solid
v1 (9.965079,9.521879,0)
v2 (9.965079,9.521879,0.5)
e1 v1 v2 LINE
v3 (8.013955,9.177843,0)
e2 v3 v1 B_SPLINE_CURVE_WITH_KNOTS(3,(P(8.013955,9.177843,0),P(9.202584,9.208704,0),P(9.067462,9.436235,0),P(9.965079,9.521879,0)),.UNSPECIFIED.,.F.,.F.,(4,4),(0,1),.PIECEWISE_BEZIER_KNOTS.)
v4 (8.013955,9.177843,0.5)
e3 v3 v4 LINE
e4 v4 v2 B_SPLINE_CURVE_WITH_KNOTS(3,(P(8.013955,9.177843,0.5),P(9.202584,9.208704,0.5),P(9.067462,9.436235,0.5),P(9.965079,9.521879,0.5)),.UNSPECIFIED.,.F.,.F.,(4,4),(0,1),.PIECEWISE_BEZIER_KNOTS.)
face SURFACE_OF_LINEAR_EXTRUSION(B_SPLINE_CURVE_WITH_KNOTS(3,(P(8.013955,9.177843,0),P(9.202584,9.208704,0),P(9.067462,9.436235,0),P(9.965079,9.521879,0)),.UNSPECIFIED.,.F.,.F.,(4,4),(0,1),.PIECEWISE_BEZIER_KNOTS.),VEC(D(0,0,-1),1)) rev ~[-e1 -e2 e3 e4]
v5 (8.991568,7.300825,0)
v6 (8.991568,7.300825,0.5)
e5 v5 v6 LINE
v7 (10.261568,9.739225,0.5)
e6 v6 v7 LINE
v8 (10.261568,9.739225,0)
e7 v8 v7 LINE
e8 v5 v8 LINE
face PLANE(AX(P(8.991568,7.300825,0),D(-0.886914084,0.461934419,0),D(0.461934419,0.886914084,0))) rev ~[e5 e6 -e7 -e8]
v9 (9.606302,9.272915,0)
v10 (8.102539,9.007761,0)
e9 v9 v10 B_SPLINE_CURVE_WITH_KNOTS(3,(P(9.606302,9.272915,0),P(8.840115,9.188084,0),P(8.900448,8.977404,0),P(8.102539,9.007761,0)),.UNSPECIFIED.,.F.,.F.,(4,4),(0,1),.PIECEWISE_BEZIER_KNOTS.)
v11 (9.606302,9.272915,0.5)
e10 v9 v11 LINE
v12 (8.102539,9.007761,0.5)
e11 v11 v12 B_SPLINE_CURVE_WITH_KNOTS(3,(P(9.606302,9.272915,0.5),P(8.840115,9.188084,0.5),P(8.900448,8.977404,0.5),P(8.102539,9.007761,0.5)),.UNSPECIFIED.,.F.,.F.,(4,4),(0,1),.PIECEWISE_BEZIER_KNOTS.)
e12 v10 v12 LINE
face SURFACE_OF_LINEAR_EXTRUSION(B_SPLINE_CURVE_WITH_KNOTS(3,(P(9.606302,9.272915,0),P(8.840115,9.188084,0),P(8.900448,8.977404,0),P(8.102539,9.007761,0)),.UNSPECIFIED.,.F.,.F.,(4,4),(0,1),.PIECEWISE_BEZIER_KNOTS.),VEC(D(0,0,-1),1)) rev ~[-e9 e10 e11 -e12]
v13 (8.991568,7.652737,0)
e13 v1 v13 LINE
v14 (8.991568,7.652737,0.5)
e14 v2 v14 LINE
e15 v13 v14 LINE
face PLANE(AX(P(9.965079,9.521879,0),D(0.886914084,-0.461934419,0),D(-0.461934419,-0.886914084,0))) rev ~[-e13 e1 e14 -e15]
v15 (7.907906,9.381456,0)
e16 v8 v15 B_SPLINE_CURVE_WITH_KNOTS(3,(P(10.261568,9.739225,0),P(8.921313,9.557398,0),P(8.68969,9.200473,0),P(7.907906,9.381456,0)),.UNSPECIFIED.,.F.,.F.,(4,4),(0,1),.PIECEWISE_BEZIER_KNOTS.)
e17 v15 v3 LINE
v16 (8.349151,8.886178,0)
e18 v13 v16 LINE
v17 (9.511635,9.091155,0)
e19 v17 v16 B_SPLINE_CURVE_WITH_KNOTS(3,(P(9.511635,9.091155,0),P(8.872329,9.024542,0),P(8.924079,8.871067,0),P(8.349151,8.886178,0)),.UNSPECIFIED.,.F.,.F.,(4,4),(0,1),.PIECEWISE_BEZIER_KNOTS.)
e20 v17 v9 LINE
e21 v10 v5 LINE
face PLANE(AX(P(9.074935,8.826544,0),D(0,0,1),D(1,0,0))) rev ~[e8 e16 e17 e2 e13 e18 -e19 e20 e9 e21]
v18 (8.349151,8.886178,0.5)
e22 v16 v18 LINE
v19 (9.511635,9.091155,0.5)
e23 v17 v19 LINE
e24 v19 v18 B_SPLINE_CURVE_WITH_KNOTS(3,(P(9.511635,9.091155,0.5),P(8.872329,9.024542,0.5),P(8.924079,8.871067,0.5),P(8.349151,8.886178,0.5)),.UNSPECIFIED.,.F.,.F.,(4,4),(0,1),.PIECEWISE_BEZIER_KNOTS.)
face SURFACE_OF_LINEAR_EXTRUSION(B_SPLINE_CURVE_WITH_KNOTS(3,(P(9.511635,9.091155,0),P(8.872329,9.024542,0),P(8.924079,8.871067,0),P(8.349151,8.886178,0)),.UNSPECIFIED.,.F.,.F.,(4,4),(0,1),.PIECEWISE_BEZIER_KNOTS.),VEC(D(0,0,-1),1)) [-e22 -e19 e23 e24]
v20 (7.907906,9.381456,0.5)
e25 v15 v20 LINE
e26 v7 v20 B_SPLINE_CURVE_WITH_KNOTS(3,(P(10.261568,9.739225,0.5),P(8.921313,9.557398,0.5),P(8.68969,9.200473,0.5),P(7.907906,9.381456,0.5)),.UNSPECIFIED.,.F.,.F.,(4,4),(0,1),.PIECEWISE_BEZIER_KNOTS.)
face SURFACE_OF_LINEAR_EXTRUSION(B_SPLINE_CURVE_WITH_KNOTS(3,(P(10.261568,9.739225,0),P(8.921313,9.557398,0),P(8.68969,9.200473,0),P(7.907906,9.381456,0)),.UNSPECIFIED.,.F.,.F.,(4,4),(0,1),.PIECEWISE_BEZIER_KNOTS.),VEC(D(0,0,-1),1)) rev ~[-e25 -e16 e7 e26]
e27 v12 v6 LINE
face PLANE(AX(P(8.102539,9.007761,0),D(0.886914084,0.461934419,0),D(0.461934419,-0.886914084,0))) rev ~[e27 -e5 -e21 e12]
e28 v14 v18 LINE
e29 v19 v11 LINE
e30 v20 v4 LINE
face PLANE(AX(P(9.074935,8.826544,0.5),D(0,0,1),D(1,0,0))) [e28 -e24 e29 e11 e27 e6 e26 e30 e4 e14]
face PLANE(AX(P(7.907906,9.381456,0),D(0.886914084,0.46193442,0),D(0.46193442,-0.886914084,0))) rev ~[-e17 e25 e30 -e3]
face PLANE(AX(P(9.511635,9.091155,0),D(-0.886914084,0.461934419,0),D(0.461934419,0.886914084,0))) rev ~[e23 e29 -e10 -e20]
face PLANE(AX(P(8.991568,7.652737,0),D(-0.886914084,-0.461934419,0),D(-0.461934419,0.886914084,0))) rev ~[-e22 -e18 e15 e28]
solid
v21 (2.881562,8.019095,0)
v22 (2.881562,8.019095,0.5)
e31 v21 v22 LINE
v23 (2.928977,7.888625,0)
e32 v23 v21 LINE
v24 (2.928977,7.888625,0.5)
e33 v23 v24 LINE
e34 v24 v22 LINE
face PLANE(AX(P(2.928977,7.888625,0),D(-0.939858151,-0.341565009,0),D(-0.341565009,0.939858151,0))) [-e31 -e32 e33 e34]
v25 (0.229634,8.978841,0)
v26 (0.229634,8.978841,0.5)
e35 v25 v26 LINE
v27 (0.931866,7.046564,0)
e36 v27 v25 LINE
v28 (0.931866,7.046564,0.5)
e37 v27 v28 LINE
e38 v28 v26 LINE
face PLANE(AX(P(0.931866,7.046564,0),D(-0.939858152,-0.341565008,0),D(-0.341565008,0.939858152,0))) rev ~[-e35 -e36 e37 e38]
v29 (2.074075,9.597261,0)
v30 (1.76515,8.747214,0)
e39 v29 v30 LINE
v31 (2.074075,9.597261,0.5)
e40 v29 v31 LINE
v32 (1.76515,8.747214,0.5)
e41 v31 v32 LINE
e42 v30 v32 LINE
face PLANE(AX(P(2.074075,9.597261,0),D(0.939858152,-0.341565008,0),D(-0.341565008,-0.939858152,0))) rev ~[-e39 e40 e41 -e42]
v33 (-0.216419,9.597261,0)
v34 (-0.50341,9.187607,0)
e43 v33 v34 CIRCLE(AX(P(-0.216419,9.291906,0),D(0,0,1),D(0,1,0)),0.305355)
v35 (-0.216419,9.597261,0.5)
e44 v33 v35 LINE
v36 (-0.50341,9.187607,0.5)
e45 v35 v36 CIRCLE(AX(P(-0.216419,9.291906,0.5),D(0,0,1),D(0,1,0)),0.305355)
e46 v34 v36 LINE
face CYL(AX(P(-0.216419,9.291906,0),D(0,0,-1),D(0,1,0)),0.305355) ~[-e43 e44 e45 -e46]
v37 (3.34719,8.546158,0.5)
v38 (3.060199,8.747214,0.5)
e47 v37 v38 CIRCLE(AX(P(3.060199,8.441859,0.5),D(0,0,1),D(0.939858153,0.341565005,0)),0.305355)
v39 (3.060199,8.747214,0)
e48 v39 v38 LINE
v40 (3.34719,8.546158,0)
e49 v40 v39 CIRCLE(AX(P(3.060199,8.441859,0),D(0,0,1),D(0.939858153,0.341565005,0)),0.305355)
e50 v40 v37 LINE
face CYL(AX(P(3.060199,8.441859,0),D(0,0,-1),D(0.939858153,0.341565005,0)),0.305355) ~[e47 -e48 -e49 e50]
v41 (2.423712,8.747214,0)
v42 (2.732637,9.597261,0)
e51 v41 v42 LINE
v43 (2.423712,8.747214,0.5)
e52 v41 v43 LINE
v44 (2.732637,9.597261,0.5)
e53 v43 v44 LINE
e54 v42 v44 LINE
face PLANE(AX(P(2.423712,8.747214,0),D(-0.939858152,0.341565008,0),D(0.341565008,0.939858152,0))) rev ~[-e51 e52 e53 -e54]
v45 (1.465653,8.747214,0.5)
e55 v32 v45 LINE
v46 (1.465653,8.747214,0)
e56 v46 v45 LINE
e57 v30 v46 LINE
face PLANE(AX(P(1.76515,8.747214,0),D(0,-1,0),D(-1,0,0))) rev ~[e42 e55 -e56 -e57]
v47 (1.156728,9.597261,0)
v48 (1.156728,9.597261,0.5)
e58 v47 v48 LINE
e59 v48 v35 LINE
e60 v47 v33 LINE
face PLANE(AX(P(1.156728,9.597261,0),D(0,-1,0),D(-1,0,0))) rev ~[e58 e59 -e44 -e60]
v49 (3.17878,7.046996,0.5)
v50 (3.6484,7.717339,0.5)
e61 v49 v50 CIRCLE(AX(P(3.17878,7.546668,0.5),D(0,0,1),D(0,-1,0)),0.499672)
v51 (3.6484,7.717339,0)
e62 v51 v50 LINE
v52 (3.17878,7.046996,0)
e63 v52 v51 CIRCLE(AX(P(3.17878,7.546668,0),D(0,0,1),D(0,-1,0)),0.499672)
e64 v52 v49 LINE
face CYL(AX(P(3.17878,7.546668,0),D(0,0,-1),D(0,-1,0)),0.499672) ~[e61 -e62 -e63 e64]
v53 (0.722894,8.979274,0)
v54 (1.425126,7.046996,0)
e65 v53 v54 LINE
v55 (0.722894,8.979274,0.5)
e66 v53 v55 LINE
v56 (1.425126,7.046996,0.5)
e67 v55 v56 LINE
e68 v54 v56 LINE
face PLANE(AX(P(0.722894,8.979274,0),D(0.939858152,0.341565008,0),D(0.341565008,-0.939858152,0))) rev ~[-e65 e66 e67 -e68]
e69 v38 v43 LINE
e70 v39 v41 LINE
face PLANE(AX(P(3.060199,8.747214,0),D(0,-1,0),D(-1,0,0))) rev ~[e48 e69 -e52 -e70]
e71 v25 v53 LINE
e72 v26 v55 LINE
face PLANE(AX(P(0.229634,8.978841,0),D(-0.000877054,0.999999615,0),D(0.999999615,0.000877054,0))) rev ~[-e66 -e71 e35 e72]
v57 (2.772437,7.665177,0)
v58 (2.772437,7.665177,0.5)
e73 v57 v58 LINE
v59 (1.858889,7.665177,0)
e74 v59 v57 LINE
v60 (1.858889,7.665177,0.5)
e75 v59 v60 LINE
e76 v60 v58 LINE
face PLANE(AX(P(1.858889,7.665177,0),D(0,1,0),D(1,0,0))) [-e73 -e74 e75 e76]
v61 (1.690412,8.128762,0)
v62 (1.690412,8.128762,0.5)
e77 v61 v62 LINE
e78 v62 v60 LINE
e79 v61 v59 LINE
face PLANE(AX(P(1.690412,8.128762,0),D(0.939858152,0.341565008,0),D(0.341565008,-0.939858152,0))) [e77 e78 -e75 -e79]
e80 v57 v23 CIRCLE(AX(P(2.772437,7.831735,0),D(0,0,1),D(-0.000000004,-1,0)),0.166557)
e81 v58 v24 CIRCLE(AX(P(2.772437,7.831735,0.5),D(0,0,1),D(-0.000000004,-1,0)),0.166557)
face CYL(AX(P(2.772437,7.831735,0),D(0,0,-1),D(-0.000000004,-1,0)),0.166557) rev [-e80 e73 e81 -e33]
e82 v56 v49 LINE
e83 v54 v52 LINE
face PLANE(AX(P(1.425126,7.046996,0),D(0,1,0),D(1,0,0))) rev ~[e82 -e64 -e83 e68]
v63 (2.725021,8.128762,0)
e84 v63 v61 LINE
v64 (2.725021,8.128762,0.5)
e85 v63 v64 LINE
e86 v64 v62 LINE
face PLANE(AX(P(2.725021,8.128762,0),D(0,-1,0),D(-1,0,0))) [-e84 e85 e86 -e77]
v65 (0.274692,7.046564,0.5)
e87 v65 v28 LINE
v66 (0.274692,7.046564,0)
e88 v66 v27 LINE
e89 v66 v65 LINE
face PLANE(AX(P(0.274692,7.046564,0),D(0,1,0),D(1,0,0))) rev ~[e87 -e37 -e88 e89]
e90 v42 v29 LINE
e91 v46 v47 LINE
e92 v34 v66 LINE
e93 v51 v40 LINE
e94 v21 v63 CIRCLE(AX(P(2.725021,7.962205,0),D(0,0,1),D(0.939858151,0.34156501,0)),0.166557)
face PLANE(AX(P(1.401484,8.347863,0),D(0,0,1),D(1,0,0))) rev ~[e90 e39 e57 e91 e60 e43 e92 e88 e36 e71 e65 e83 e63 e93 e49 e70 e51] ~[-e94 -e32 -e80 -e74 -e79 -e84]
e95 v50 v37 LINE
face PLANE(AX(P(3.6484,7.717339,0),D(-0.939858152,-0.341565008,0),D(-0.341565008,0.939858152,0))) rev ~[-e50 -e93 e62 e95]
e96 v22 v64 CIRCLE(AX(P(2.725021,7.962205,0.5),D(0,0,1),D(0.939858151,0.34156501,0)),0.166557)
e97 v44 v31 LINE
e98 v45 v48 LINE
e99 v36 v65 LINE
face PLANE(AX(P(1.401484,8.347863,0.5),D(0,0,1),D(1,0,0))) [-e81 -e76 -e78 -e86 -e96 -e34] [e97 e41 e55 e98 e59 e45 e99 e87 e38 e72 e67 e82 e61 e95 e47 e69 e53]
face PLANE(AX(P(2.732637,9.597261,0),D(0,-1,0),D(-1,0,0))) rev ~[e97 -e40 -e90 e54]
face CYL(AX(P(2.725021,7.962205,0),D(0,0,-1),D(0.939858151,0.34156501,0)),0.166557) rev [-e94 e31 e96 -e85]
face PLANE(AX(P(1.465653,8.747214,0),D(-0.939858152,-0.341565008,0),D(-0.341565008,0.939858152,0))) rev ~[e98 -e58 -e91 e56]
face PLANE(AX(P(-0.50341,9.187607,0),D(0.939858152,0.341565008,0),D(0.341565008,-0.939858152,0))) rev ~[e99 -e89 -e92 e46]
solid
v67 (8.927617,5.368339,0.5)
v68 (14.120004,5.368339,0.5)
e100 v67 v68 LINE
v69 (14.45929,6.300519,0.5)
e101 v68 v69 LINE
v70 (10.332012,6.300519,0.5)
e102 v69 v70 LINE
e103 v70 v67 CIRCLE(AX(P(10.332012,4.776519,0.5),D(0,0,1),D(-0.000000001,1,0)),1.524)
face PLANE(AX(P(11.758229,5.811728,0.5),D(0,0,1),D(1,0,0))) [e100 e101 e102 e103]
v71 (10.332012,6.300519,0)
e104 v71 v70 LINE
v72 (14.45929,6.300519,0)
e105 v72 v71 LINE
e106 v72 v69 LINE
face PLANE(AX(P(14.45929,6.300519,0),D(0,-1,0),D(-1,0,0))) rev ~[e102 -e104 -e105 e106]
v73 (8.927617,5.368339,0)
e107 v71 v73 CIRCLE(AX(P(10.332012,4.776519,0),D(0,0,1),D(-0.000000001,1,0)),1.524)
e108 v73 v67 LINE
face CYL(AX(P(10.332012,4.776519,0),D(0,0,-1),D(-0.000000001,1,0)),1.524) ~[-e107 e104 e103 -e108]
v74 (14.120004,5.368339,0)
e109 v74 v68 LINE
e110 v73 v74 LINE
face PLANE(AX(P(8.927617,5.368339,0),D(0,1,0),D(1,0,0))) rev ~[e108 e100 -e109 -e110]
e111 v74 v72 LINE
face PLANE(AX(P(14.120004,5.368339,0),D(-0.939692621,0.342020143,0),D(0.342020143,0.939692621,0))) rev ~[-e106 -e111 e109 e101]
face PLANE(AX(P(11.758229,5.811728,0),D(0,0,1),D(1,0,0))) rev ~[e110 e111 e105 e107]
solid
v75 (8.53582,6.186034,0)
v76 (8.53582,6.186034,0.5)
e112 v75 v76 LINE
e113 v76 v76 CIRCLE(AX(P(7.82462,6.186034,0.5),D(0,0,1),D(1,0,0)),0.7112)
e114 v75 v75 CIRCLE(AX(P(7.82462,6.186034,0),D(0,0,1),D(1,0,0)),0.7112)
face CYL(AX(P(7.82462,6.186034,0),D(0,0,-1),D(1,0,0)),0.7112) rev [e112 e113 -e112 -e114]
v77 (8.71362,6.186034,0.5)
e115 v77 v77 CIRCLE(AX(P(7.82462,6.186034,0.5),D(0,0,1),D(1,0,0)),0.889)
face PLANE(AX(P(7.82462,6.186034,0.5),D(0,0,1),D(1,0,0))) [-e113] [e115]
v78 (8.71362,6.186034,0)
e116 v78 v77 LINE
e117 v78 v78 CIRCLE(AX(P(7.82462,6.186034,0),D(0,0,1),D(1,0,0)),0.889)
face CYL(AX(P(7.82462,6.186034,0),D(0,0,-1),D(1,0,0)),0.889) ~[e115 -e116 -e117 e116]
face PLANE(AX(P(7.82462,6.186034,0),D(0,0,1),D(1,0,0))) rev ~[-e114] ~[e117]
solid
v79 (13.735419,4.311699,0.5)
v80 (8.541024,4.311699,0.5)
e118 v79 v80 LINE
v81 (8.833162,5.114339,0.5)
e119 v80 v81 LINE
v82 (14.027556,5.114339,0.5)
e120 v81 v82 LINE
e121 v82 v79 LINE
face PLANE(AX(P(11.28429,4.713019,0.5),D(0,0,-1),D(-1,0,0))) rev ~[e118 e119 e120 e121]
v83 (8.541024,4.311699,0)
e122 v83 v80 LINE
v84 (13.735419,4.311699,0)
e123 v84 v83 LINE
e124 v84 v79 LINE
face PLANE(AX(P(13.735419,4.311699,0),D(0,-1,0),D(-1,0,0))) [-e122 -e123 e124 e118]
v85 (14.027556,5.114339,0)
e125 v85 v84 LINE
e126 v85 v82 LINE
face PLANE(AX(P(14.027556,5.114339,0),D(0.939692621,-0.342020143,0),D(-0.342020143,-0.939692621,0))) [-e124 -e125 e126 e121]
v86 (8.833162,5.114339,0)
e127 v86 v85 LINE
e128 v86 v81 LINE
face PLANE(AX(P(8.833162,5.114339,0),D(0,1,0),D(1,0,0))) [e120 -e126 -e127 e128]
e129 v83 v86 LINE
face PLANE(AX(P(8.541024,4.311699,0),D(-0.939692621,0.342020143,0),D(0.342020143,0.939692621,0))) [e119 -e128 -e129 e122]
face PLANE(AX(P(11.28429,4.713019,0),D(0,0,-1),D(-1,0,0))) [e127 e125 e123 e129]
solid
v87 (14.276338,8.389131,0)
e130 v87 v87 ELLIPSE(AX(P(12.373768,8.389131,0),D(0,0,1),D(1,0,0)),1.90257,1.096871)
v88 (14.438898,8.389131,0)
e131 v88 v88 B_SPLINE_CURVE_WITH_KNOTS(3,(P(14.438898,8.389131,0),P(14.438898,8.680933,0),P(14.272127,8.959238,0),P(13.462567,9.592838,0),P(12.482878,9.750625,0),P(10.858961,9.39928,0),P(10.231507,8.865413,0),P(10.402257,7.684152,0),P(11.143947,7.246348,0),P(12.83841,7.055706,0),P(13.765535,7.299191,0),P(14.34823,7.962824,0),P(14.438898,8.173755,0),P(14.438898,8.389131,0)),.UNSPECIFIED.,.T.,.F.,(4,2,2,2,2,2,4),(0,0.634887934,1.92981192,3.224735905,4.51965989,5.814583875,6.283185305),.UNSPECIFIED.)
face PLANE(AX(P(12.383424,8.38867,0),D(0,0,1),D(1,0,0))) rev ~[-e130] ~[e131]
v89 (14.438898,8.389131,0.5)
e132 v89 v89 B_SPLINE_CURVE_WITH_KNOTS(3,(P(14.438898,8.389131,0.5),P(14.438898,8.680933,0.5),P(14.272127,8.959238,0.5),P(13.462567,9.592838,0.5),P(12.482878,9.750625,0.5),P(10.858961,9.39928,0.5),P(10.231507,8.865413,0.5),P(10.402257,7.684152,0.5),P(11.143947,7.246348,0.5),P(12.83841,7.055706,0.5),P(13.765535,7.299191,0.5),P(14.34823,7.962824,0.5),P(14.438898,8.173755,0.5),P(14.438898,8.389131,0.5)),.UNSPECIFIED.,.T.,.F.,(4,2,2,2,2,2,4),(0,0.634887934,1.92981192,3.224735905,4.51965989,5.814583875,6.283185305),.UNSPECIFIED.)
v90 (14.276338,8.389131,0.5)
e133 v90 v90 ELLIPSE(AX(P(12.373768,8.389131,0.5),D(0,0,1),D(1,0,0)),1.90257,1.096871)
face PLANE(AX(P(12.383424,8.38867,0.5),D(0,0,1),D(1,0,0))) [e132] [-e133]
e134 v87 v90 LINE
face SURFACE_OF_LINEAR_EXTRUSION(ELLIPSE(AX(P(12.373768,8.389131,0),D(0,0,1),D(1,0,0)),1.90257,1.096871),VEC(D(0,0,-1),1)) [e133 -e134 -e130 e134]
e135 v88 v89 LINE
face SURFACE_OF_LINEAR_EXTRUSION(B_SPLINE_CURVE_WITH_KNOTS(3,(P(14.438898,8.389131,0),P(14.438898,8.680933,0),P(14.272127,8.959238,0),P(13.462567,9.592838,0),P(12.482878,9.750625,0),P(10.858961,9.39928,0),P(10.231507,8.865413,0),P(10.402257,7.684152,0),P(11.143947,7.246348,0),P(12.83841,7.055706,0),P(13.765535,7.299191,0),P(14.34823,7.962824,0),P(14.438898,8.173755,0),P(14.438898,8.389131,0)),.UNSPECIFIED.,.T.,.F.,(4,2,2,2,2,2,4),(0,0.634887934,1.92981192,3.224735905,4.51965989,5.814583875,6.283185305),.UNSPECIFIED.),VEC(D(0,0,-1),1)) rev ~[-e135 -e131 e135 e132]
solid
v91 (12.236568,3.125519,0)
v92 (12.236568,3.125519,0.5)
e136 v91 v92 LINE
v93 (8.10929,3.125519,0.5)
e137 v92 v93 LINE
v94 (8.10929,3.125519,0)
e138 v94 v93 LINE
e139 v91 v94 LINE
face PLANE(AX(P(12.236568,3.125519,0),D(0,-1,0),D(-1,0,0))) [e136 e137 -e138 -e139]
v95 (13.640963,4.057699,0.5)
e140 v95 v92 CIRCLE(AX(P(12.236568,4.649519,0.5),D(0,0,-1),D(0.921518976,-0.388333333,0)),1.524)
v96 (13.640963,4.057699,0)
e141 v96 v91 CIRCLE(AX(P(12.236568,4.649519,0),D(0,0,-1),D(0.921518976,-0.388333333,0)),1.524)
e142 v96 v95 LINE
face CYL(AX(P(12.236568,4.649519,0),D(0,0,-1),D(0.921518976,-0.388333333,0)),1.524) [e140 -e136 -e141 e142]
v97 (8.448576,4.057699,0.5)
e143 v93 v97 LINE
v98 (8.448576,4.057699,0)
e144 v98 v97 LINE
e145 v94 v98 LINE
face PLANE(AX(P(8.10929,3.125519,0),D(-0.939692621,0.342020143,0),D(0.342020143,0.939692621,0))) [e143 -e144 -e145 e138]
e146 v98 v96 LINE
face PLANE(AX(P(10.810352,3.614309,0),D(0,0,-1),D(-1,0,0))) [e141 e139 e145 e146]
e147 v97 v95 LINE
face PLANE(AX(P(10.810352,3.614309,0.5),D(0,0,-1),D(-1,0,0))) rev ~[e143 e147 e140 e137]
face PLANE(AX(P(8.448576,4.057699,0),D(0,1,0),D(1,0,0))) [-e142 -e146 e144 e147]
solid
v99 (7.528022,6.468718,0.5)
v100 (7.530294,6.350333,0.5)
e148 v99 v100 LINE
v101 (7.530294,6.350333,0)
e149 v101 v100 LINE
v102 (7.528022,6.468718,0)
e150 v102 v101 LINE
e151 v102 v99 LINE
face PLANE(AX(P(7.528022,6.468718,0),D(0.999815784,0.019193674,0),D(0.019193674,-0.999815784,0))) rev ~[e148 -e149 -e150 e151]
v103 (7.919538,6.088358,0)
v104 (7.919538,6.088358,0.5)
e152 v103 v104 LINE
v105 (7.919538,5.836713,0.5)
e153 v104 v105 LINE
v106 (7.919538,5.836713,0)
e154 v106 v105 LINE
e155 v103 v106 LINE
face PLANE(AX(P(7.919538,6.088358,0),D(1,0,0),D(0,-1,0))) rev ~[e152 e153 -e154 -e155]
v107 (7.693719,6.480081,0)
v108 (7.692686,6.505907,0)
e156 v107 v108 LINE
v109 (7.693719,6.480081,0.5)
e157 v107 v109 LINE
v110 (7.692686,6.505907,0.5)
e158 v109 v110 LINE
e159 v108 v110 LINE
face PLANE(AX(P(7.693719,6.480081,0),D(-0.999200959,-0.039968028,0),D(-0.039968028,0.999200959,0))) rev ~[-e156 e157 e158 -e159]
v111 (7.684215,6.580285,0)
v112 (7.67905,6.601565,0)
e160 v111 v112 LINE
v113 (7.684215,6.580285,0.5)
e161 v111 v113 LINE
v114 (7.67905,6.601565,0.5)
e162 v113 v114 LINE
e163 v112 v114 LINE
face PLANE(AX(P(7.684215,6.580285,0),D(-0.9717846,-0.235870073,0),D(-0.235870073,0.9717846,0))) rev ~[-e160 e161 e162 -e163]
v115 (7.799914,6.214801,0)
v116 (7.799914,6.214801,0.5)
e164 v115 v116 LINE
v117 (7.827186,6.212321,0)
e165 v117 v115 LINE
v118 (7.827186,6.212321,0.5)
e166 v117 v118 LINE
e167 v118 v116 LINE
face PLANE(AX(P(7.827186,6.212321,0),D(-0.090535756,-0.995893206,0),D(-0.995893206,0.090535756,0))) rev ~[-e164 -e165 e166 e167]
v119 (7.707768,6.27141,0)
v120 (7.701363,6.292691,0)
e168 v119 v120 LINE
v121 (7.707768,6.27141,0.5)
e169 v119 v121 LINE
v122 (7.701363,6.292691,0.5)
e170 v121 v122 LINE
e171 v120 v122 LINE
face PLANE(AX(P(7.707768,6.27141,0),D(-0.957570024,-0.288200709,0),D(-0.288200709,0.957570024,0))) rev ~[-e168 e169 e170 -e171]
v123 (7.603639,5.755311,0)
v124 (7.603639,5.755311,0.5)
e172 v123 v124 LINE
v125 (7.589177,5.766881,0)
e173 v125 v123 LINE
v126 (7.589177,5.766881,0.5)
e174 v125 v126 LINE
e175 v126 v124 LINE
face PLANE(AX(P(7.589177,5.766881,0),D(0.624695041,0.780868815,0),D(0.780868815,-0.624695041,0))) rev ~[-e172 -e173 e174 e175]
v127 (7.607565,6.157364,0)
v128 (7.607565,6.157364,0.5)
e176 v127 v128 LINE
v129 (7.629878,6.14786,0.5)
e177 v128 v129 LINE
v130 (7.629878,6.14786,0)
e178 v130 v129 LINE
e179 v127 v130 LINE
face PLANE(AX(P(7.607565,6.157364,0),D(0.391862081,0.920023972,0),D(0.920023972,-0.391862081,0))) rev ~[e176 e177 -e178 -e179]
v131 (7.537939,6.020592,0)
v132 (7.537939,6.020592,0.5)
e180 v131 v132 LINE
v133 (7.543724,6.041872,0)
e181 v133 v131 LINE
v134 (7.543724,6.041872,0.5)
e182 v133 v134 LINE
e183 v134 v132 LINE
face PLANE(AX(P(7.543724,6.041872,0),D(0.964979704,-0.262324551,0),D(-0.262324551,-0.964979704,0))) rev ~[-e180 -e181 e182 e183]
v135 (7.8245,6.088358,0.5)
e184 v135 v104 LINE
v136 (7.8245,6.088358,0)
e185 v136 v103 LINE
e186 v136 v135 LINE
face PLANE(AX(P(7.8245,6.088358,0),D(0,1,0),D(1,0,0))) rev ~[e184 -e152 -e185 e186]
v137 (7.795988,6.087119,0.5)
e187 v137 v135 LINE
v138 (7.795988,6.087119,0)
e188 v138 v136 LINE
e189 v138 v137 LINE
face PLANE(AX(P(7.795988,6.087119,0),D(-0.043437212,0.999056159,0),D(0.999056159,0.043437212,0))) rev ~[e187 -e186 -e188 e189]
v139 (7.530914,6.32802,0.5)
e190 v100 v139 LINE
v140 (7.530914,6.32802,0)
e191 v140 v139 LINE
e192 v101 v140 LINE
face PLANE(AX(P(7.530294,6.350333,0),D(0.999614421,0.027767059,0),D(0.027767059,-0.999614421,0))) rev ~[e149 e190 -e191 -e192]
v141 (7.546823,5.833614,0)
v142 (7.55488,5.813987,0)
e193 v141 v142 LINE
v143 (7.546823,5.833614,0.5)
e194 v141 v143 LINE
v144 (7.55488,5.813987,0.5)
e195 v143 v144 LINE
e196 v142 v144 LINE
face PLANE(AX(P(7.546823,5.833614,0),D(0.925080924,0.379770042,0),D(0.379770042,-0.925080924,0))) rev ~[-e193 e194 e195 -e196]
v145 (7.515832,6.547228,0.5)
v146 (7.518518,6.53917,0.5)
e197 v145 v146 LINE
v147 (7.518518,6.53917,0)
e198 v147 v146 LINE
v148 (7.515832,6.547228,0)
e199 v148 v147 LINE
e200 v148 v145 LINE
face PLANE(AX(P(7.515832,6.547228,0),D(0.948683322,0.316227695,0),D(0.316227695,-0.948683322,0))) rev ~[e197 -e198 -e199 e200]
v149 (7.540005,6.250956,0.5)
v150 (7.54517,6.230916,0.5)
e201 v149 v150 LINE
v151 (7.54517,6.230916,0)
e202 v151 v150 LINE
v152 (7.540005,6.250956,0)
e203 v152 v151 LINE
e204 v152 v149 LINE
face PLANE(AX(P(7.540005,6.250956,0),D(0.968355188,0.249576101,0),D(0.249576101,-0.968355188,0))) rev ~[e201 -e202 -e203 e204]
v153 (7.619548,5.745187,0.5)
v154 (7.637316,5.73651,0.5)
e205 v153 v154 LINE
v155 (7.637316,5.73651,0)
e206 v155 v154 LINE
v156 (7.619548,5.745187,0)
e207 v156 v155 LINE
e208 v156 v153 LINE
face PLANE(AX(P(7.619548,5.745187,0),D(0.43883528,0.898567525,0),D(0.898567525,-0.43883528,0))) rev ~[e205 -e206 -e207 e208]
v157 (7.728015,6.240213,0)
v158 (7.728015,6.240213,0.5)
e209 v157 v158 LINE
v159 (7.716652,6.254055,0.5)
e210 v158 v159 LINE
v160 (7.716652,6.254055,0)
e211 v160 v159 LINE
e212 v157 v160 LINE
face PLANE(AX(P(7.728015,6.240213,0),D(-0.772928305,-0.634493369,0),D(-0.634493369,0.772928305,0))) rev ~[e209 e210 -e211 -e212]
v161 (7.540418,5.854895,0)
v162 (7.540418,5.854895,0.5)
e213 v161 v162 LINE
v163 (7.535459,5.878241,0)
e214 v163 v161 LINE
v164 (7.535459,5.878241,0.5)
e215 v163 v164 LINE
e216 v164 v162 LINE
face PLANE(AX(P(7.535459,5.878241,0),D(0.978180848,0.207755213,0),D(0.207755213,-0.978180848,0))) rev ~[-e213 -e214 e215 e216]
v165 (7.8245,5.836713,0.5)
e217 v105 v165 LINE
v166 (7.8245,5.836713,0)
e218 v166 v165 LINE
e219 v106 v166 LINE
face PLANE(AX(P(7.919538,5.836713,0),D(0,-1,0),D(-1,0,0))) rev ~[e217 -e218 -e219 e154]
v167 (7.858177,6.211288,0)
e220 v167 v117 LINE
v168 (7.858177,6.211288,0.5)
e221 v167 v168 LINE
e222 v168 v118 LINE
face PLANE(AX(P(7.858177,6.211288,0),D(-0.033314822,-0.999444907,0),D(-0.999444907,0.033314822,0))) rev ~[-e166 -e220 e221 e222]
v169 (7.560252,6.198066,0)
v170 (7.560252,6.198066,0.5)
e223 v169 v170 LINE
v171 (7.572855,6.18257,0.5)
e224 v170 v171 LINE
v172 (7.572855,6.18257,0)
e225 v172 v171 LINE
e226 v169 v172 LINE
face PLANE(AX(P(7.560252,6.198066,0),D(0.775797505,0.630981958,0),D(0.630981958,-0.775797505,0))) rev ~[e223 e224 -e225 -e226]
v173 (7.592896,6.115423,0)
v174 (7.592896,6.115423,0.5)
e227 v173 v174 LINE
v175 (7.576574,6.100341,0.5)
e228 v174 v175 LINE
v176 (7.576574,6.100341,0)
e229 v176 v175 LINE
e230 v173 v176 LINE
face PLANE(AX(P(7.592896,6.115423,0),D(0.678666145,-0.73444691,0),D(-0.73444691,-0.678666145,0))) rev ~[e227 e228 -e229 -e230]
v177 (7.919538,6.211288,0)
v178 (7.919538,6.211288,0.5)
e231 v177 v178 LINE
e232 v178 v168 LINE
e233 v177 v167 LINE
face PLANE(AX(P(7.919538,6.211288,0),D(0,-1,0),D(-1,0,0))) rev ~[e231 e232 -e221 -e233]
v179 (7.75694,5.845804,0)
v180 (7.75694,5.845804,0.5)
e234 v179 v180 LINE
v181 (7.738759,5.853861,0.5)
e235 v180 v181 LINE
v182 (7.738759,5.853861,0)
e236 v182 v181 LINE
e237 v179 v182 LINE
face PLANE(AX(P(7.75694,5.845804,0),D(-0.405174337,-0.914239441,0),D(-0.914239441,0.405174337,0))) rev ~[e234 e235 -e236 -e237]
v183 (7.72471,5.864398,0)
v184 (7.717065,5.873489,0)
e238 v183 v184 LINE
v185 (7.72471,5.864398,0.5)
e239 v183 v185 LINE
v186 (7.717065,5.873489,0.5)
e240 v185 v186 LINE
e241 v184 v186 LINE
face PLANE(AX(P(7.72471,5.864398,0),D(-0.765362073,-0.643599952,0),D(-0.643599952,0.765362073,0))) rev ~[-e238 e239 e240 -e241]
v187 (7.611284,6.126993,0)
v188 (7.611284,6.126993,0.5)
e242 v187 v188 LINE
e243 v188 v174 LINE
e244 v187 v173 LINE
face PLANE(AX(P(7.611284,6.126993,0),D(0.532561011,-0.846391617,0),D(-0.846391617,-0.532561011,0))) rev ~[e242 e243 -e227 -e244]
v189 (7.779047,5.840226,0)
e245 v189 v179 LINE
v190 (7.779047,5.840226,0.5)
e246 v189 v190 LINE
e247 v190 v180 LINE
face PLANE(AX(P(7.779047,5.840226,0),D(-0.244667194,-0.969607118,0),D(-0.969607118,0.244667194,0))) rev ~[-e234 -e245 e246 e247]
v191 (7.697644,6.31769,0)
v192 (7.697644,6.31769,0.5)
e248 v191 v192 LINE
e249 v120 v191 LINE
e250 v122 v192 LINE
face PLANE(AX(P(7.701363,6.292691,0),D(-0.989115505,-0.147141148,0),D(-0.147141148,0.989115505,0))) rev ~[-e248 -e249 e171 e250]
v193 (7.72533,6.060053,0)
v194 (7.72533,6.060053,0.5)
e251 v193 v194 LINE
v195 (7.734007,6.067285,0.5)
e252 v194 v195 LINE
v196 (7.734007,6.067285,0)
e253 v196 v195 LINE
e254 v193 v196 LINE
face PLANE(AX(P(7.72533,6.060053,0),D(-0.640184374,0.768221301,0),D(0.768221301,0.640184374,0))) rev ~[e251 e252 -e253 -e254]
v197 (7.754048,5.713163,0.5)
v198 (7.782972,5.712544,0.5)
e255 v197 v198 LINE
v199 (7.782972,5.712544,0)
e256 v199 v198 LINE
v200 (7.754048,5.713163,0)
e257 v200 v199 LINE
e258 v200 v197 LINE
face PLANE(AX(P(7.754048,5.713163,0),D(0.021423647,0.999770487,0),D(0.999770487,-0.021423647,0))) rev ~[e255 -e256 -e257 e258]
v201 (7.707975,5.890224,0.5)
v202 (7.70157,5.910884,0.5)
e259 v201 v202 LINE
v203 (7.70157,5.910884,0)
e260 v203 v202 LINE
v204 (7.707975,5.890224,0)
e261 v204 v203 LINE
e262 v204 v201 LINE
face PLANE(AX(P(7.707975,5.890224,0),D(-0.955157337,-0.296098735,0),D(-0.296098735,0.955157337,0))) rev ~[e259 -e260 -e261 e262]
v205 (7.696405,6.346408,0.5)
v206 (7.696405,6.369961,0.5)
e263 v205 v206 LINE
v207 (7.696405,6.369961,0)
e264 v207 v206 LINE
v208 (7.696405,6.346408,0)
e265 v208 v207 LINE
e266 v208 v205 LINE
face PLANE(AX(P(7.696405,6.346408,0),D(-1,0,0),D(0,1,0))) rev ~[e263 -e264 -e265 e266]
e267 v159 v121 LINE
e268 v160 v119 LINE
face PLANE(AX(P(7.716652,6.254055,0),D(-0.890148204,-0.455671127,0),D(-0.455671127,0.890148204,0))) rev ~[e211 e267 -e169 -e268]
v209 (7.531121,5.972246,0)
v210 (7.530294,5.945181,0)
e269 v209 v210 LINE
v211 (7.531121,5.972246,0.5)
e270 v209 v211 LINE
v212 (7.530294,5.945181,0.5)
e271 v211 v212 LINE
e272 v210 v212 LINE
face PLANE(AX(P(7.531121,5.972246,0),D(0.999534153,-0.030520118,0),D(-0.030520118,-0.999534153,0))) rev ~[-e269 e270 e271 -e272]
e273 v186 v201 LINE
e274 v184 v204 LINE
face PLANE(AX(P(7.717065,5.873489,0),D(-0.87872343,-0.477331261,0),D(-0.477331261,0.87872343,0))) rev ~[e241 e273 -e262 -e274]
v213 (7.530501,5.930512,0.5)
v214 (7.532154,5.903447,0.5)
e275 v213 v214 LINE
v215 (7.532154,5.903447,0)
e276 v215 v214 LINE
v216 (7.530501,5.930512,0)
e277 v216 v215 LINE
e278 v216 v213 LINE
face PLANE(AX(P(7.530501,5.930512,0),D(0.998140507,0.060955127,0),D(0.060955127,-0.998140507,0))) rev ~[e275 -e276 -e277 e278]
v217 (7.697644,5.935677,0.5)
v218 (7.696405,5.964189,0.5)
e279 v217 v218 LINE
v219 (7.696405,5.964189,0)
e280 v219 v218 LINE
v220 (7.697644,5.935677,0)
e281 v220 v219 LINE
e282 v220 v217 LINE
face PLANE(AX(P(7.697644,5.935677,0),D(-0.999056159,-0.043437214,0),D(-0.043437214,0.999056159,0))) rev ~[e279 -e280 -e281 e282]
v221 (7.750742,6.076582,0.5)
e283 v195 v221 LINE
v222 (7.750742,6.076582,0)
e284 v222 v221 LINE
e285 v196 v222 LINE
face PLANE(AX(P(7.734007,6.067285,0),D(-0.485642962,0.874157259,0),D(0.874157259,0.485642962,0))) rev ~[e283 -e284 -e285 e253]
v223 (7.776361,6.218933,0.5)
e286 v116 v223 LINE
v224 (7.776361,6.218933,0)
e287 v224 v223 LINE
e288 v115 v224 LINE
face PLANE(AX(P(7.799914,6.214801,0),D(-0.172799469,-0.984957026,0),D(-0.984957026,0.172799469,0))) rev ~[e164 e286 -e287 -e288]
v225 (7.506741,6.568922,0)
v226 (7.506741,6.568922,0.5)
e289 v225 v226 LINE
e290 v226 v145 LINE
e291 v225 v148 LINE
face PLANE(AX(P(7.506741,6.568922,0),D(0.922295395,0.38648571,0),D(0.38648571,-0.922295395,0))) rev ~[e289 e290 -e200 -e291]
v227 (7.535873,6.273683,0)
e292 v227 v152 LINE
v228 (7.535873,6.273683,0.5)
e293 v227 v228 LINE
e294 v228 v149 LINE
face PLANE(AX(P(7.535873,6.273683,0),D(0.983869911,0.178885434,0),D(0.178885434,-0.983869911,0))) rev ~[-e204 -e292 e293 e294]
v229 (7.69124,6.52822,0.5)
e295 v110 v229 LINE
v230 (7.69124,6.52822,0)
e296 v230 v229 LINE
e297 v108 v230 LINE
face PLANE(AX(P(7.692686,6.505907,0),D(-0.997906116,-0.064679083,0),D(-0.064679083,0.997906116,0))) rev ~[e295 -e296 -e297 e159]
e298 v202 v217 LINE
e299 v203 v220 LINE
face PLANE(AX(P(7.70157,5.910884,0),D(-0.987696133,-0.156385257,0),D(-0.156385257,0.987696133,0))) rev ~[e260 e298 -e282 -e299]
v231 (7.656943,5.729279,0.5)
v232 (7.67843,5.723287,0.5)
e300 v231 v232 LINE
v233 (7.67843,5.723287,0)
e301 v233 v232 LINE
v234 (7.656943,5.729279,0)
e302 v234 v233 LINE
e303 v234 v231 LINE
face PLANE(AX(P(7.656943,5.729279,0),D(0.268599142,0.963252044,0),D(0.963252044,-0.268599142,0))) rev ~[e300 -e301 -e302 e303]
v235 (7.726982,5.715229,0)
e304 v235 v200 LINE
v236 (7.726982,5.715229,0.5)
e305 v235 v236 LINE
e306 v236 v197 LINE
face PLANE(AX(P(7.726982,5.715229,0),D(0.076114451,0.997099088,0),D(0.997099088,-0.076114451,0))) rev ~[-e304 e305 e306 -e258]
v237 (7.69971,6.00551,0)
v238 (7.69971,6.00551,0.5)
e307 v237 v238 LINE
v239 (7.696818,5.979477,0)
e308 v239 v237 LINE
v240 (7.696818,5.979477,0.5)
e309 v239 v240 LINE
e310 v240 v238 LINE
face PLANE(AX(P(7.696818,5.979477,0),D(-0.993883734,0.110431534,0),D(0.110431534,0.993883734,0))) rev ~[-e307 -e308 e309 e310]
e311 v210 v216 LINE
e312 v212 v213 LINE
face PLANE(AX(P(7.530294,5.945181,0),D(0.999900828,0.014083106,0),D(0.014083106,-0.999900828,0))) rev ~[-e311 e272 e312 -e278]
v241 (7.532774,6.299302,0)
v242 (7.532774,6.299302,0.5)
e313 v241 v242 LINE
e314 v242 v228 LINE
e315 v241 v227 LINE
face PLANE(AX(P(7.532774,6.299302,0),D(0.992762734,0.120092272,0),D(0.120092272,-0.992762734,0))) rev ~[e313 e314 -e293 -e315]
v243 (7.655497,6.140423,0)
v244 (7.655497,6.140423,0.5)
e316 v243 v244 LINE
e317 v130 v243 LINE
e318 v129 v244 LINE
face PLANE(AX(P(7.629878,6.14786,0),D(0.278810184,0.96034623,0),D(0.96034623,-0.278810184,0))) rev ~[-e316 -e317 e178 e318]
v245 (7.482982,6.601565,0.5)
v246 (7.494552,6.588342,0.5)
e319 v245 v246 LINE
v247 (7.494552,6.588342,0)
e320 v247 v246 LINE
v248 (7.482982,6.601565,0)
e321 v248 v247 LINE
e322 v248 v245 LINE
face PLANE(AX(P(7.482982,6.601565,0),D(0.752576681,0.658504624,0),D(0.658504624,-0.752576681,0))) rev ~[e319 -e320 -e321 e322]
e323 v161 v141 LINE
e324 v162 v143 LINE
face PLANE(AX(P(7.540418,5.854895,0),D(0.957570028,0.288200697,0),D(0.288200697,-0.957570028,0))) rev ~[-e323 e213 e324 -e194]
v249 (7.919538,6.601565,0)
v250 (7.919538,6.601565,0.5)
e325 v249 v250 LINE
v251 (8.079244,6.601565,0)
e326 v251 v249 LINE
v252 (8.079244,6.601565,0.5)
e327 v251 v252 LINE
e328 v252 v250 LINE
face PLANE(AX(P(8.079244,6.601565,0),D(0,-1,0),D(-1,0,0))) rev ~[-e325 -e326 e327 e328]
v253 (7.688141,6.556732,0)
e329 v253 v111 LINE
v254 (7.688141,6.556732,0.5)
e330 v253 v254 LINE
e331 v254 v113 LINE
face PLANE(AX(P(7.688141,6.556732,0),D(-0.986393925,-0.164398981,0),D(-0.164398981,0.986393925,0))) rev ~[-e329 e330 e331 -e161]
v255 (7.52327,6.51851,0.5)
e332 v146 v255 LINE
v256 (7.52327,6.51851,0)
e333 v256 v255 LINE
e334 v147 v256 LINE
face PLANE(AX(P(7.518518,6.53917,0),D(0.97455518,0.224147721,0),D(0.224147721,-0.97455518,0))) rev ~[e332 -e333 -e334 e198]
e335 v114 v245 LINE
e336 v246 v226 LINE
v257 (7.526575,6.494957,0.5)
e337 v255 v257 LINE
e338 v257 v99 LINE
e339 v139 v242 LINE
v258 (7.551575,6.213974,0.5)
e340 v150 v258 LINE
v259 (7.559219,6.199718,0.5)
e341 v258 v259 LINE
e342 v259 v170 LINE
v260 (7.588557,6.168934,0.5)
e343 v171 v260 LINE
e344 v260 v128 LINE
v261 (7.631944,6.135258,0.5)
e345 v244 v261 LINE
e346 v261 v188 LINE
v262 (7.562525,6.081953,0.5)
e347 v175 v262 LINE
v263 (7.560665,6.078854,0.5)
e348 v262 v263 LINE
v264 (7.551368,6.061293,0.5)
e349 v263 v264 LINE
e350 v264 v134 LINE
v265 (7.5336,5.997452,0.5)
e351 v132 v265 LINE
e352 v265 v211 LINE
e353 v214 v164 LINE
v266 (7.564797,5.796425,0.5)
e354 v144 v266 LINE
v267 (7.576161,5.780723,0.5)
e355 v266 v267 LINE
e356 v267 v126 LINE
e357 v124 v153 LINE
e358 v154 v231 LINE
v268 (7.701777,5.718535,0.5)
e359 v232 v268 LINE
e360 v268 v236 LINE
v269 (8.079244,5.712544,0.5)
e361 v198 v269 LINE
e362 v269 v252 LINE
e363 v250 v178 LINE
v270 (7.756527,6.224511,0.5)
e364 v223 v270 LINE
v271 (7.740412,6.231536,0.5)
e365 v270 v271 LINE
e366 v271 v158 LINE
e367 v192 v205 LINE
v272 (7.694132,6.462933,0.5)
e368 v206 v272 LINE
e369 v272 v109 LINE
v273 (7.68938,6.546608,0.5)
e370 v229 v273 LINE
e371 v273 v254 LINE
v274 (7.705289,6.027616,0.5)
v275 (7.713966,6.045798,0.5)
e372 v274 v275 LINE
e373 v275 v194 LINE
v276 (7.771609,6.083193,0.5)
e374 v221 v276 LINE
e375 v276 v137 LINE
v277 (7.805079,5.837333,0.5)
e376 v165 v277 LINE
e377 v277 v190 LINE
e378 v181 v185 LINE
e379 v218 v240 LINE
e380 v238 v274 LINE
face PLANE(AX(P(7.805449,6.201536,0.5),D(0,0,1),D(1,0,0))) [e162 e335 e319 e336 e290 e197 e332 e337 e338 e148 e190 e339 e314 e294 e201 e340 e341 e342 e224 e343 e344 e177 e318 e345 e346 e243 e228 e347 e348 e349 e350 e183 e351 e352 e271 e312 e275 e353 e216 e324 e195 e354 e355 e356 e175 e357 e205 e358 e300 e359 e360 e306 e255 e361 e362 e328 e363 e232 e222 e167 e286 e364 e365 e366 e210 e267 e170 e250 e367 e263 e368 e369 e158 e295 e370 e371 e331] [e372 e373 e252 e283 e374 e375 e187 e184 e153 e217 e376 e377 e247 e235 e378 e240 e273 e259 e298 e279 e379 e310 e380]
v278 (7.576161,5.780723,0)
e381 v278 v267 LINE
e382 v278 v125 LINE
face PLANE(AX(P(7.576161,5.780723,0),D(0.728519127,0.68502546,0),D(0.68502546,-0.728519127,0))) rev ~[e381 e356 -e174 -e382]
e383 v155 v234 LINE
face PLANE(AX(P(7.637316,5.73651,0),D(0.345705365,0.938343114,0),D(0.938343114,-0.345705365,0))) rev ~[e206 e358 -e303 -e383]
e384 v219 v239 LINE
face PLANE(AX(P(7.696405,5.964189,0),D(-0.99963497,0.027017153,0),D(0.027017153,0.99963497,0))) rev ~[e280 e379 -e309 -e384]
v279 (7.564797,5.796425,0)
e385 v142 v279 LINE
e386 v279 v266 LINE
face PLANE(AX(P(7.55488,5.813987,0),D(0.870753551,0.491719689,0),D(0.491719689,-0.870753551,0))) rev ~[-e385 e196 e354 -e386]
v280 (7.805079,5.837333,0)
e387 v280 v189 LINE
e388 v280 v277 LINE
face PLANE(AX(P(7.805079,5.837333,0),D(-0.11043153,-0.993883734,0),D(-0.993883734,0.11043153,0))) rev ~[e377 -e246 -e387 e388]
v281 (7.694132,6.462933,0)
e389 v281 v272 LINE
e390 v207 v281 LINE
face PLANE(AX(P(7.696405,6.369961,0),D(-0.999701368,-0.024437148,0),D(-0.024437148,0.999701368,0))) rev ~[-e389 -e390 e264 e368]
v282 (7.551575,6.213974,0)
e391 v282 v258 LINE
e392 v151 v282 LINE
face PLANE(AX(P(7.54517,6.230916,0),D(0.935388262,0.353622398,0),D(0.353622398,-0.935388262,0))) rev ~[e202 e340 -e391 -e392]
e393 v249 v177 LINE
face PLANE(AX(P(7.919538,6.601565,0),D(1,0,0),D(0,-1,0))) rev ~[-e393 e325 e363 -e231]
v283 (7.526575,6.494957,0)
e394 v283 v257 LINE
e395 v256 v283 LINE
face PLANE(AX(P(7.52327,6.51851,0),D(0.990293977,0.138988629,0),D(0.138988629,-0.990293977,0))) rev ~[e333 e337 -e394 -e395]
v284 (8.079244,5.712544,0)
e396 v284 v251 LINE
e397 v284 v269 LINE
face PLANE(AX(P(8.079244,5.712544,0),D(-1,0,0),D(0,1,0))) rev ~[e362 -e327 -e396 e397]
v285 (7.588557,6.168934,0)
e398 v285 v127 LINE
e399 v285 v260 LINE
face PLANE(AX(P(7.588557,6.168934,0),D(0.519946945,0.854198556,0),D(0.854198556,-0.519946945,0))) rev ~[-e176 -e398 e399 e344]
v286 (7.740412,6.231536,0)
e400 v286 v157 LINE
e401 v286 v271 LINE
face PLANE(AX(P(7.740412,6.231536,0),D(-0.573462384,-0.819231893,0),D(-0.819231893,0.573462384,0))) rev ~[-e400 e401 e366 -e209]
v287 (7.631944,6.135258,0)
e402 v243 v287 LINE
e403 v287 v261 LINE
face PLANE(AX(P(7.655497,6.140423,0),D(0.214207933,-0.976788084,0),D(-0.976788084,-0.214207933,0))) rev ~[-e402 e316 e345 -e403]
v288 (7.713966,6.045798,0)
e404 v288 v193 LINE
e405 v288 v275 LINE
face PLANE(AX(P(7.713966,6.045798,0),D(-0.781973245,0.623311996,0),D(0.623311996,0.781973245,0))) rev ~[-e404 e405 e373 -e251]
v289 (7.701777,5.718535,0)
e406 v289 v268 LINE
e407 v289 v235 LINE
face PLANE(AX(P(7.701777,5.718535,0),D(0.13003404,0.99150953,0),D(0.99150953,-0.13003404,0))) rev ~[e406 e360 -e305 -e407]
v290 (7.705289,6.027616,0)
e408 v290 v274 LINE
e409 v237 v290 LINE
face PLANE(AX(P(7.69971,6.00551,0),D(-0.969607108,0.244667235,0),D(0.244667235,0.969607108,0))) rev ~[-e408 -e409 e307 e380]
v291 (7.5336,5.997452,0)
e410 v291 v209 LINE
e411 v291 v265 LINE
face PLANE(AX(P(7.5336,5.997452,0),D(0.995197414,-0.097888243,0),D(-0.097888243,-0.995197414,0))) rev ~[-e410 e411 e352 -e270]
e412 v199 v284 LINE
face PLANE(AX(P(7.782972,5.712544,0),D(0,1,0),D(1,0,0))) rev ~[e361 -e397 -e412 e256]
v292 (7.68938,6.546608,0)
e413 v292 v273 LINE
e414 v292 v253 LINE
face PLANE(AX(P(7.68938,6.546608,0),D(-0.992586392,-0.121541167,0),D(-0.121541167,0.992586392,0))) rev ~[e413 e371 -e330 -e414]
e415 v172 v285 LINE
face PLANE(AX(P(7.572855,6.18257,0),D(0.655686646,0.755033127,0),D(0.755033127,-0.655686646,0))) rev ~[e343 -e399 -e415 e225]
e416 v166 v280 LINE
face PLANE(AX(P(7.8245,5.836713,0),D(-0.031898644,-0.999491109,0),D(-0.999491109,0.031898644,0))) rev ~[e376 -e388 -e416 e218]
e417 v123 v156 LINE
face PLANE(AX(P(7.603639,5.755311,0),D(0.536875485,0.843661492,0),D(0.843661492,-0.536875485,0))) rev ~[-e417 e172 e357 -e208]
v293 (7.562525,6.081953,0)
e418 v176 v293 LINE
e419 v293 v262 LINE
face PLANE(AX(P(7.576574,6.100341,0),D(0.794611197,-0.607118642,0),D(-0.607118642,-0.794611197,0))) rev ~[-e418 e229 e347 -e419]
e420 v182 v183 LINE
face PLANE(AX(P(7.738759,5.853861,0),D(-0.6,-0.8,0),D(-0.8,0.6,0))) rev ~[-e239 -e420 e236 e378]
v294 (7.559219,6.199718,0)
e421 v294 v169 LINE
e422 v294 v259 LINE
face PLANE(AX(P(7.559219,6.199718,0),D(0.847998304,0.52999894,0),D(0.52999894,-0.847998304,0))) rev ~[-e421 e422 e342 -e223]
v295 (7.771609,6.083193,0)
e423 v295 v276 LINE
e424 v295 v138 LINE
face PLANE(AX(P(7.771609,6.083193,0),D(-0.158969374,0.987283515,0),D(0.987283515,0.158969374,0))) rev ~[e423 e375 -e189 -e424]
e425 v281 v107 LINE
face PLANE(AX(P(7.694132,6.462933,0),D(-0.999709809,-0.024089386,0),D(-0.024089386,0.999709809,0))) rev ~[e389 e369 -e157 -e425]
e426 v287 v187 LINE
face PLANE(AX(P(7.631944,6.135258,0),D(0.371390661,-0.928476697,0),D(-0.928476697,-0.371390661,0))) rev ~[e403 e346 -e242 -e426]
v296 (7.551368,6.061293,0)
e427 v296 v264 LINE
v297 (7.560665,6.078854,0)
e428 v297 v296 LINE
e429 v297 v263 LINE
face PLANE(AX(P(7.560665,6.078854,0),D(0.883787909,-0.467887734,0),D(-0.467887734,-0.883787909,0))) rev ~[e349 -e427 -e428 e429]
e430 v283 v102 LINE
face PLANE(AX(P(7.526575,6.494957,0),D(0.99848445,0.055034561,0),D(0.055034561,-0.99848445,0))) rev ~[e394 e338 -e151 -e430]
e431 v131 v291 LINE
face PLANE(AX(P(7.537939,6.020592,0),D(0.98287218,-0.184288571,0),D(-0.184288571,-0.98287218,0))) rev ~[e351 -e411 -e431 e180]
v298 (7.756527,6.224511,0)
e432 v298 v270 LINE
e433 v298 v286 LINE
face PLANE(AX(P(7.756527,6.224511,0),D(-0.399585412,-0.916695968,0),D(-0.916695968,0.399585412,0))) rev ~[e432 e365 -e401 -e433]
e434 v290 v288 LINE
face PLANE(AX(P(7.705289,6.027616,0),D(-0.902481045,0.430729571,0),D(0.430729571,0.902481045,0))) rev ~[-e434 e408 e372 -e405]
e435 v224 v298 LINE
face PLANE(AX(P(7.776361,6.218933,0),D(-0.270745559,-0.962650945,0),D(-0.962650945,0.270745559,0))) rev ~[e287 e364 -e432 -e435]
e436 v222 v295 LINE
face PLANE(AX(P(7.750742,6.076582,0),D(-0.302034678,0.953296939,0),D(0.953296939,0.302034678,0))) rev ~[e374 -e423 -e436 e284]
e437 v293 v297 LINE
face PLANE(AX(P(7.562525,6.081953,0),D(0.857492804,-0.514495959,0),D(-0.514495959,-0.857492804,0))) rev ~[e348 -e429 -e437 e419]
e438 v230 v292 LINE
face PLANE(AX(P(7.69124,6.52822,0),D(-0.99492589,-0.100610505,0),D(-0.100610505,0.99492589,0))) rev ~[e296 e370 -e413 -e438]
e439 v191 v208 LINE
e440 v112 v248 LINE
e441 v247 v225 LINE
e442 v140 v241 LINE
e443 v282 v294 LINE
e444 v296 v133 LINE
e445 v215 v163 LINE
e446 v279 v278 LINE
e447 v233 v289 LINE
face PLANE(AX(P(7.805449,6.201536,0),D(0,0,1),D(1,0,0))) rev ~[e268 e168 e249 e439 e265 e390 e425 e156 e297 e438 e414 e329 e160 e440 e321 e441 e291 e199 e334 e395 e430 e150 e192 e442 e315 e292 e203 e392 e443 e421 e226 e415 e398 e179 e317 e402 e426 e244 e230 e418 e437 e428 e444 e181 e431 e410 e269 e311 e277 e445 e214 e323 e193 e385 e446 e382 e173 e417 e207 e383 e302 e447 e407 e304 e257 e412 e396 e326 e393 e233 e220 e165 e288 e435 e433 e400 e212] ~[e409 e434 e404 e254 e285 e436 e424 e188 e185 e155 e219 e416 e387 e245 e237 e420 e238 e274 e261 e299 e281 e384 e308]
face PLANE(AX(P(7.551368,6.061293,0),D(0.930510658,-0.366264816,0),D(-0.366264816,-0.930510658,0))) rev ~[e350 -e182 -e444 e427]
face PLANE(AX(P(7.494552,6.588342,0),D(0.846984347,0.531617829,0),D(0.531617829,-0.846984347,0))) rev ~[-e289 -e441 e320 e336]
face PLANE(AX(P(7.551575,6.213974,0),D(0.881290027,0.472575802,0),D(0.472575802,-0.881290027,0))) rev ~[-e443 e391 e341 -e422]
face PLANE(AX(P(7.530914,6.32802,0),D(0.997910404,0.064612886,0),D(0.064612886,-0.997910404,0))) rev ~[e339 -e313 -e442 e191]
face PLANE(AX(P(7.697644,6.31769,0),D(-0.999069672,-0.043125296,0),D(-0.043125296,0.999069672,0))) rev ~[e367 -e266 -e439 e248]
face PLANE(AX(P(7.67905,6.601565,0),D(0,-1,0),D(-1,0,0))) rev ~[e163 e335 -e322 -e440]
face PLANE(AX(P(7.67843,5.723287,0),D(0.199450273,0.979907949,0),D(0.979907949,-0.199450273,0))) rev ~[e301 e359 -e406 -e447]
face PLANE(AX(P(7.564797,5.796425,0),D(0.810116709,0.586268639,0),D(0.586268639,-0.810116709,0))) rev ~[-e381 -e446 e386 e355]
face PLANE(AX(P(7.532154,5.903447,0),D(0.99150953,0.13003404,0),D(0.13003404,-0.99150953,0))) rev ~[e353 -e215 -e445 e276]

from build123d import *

# Parameters (mm, degrees)
SKETCH_1_R        = 0.889
SKETCH_1_R_2      = 0.7112
EXTRUDE_1_DEPTH   = 0.5
EXTRUDE_1_2_DEPTH = 0.5
EXTRUDE_1_3_DEPTH = 0.5
EXTRUDE_1_4_DEPTH = 0.5
EXTRUDE_1_5_DEPTH = 0.5
EXTRUDE_1_6_DEPTH = 0.5
EXTRUDE_1_7_DEPTH = 0.5
SKETCH_1_RX       = 1.902570153
SKETCH_1_RY       = 1.096871421
EXTRUDE_1_8_DEPTH = 0.5


with BuildPart() as part:
    # 草圖1 → 填料-伸長1 (new body)
    with BuildSketch(Plane.XY):
        with Locations((7.824620046, 6.186033695)):
            Circle(SKETCH_1_R)
        with Locations((7.824620046, 6.186033695)):
            Circle(SKETCH_1_R_2, mode=Mode.SUBTRACT)
    extrude(amount=EXTRUDE_1_DEPTH)


with BuildPart() as body_2:
    # 草圖1 → Extrude 1 2 (new body)
    with BuildSketch(Plane.XY):
        with BuildLine():
            Line((8.448576012, 4.057698906), (13.640963376, 4.057698906))
            ThreePointArc((13.640963376, 4.057698906), (13.079373986, 3.379772931), (12.236568457, 3.125518906))
            Line((12.236568457, 3.125518906), (8.109290239, 3.125518906))
            Line((8.109290239, 3.125518906), (8.448576012, 4.057698906))
        make_face()
    extrude(amount=EXTRUDE_1_2_DEPTH)


with BuildPart() as body_3:
    # 草圖1 → Extrude 1 3 (new body)
    with BuildSketch(Plane.XY):
        with BuildLine():
            Line((8.927617103, 5.368338906), (14.120004466, 5.368338906))
            Line((14.120004466, 5.368338906), (14.459290239, 6.300518906))
            Line((14.459290239, 6.300518906), (10.332012021, 6.300518906))
            ThreePointArc((10.332012021, 6.300518906), (9.489206492, 6.04626488), (8.927617103, 5.368338906))
        make_face()
    extrude(amount=EXTRUDE_1_3_DEPTH)


with BuildPart() as body_4:
    # 草圖1 → Extrude 1 4 (new body)
    with BuildSketch(Plane.XY):
        Polygon((14.027556027, 5.114338906), (13.735418958, 4.311698906), (8.541024452, 4.311698906), (8.833161521, 5.114338906), align=None)
    extrude(amount=EXTRUDE_1_4_DEPTH)


with BuildPart() as body_5:
    # 草圖1 → Extrude 1 5 (new body)
    with BuildSketch(Plane.XY):
        Polygon((7.919538281, 6.601565182), (7.919538281, 6.211288228), (7.8631351, 6.211288228), (7.858176578, 6.211288228), (7.82718582, 6.212321253), (7.799913952, 6.214800514), (7.776360975, 6.218932615), (7.75652689, 6.224510951), (7.740411695, 6.231535523), (7.728015392, 6.240212936), (7.716652114, 6.254055475), (7.707768096, 6.2714103), (7.701363339, 6.29269062), (7.697644448, 6.317689832), (7.696404818, 6.346407936), (7.696404818, 6.369960912), (7.694132162, 6.462933188), (7.693718952, 6.480081408), (7.692685927, 6.50590704), (7.691239692, 6.528220386), (7.689380246, 6.546608237), (7.688140616, 6.556731884), (7.68421512, 6.580284861), (7.679049993, 6.601565182), (7.482981793, 6.601565182), (7.494551677, 6.588342458), (7.506741375, 6.568921583), (7.515831998, 6.547228052), (7.518517863, 6.539170455), (7.52326978, 6.518509949), (7.526575461, 6.494956972), (7.528021696, 6.46871813), (7.530294352, 6.350333432), (7.530914167, 6.328020085), (7.532773612, 6.299301982), (7.535872688, 6.273682955), (7.540004789, 6.250956399), (7.545169916, 6.230915708), (7.551574673, 6.213974093), (7.55921906, 6.199718344), (7.560252085, 6.198065504), (7.572854993, 6.182570125), (7.588556978, 6.168934191), (7.607564643, 6.157364308), (7.629877989, 6.147860475), (7.655497017, 6.140422693), (7.63194404, 6.135257566), (7.611283534, 6.126993364), (7.592895684, 6.115423481), (7.576573885, 6.100341312), (7.562524741, 6.081953461), (7.560665295, 6.078854386), (7.551368067, 6.061292956), (7.54372368, 6.04187208), (7.537938739, 6.020591759), (7.533600032, 5.997451993), (7.531120772, 5.972246176), (7.530294352, 5.945180913), (7.530500957, 5.930511954), (7.532153797, 5.903446691), (7.535459478, 5.878240874), (7.540417999, 5.854894503), (7.546822756, 5.833614182), (7.554880353, 5.813986701), (7.564797396, 5.796425272), (7.576160674, 5.780723287), (7.589176793, 5.766880748), (7.603639147, 5.755310865), (7.619547737, 5.745187217), (7.637315772, 5.736509805), (7.656943252, 5.729278628), (7.678430178, 5.723287081), (7.70177655, 5.718535165), (7.726982367, 5.715229484), (7.754047629, 5.713163433), (7.782972337, 5.712543618), (8.07924399, 5.712543618), (8.07924399, 6.601565182), align=None)
        Polygon((7.919538281, 5.836713258), (7.824499954, 5.836713258), (7.805079079, 5.837333073), (7.779046841, 5.840225544), (7.7569401, 5.84580388), (7.738758855, 5.853861478), (7.724709711, 5.864398336), (7.717065324, 5.873488958), (7.707974701, 5.890223968), (7.701569945, 5.910884474), (7.697644448, 5.935677081), (7.696404818, 5.964188578), (7.696818028, 5.979477353), (7.699710499, 6.00550959), (7.705288836, 6.027616331), (7.713966248, 6.045797576), (7.725329526, 6.060053325), (7.734006939, 6.067284502), (7.750741948, 6.07658173), (7.771609059, 6.083193092), (7.795988456, 6.087118588), (7.824499954, 6.088358218), (7.919538281, 6.088358218), align=None, mode=Mode.SUBTRACT)
    extrude(amount=EXTRUDE_1_5_DEPTH)


with BuildPart() as body_6:
    # 草圖1 → Extrude 1 6 (new body)
    with BuildSketch(Plane.XY):
        with BuildLine():
            Line((7.907906052, 9.381456034), (8.013954697, 9.177842636))
            add(Edge.make_bspline(
                [(8.013954697, 9.177842636), (9.202583564, 9.208703992), (9.06746162, 9.436235238), (9.965079322, 9.52187855)],
                knots=[0, 0, 0, 0, 1, 1, 1, 1], degree=3))
            Line((9.965079322, 9.52187855), (8.991567924, 7.652736666))
            Line((8.991567924, 7.652736666), (8.349150686, 8.886177764))
            add(Edge.make_bspline(
                [(9.511635217, 9.091155152), (8.872328744, 9.024542452), (8.924079312, 8.871067484), (8.349150686, 8.886177764)],
                knots=[0, 0, 0, 0, 1, 1, 1, 1], degree=3))
            Line((9.511635217, 9.091155152), (9.606301905, 9.272915193))
            add(Edge.make_bspline(
                [(9.606301905, 9.272915193), (8.840115122, 9.188083566), (8.900448019, 8.977404436), (8.102538787, 9.007761183)],
                knots=[0, 0, 0, 0, 1, 1, 1, 1], degree=3))
            Line((8.102538787, 9.007761183), (8.991567924, 7.300825241))
            Line((8.991567924, 7.300825241), (10.261567924, 9.739225241))
            add(Edge.make_bspline(
                [(10.261567924, 9.739225241), (8.921312557, 9.55739804), (8.689689544, 9.200472508), (7.907906052, 9.381456034)],
                knots=[0, 0, 0, 0, 1, 1, 1, 1], degree=3))
        make_face()
    extrude(amount=EXTRUDE_1_6_DEPTH)


with BuildPart() as body_7:
    # 草圖1 → Extrude 1 7 (new body)
    with BuildSketch(Plane.XY):
        with BuildLine():
            Line((3.648400437, 7.717338976), (3.347189613, 8.546157624))
            ThreePointArc((3.347189613, 8.546157624), (3.235404155, 8.691948886), (3.060199048, 8.747214167))
            Line((3.060199048, 8.747214167), (2.423711702, 8.747214167))
            Line((2.423711702, 8.747214167), (2.732637212, 9.597260723))
            Line((2.732637212, 9.597260723), (2.074075306, 9.597260723))
            Line((2.074075306, 9.597260723), (1.765149796, 8.747214167))
            Line((1.765149796, 8.747214167), (1.465653194, 8.747214167))
            Line((1.465653194, 8.747214167), (1.156727684, 9.597260723))
            Line((1.156727684, 9.597260723), (-0.216419324, 9.597260723))
            ThreePointArc((-0.216419324, 9.597260723), (-0.466509234, 9.467110639), (-0.503409889, 9.187606883))
            Line((-0.503409889, 9.187606883), (0.274692026, 7.046563713))
            Line((0.274692026, 7.046563713), (0.931865953, 7.046563713))
            Line((0.931865953, 7.046563713), (0.229634017, 8.978841301))
            Line((0.229634017, 8.978841301), (0.722894497, 8.979273917))
            Line((0.722894497, 8.979273917), (1.425126434, 7.046996329))
            Line((1.425126434, 7.046996329), (3.178779512, 7.046996329))
            ThreePointArc((3.178779512, 7.046996329), (3.588017547, 7.259969194), (3.648400437, 7.717338976))
        make_face()
        with BuildLine():
            Line((2.92897741, 7.888625033), (2.881561778, 8.019094979))
            ThreePointArc((2.881561778, 8.019094979), (2.820587892, 8.098617485), (2.72502147, 8.128762184))
            Line((2.72502147, 8.128762184), (1.690412171, 8.128762184))
            Line((1.690412171, 8.128762184), (1.85888899, 7.665177484))
            Line((1.85888899, 7.665177484), (2.772437101, 7.665177484))
            ThreePointArc((2.772437101, 7.665177484), (2.90884978, 7.736168439), (2.92897741, 7.888625033))
        make_face(mode=Mode.SUBTRACT)
    extrude(amount=EXTRUDE_1_7_DEPTH)


with BuildPart() as body_8:
    # 草圖1 → Extrude 1 8 (new body)
    with BuildSketch(Plane.XY):
        with BuildLine():
            add(Edge.make_bspline(
                [(10.316882212, 8.274782131), (10.402257091, 7.684151743), (11.143946605, 7.246347921), (12.838410216, 7.055705795), (13.765534918, 7.299190986), (14.348230312, 7.962823838), (14.438898128, 8.173755435), (14.438898128, 8.389130691)],
                knots=[3.224735905, 3.224735905, 3.224735905, 3.224735905, 4.519659891, 4.519659891, 5.814583877, 5.814583877, 6.283185307, 6.283185307, 6.283185307, 6.283185307], degree=3))
            add(Edge.make_bspline(
                [(14.438898128, 8.389130691), (14.438898128, 8.680933367), (14.272126572, 8.959237611), (13.462567368, 9.592838027), (12.482877783, 9.750625339), (10.858960547, 9.399280444), (10.231507333, 8.865412519), (10.316882212, 8.274782131)],
                knots=[0, 0, 0, 0, 0.634887934, 0.634887934, 1.92981192, 1.92981192, 3.224735905, 3.224735905, 3.224735905, 3.224735905], degree=3))
        make_face()
        with Locations(Location((12.373767975, 8.389130691), (0, 0, 0))):
            Ellipse(SKETCH_1_RX, SKETCH_1_RY, mode=Mode.SUBTRACT)
    extrude(amount=EXTRUDE_1_8_DEPTH)


solid = Compound([part.part, body_2.part, body_3.part, body_4.part, body_5.part, body_6.part, body_7.part, body_8.part])
